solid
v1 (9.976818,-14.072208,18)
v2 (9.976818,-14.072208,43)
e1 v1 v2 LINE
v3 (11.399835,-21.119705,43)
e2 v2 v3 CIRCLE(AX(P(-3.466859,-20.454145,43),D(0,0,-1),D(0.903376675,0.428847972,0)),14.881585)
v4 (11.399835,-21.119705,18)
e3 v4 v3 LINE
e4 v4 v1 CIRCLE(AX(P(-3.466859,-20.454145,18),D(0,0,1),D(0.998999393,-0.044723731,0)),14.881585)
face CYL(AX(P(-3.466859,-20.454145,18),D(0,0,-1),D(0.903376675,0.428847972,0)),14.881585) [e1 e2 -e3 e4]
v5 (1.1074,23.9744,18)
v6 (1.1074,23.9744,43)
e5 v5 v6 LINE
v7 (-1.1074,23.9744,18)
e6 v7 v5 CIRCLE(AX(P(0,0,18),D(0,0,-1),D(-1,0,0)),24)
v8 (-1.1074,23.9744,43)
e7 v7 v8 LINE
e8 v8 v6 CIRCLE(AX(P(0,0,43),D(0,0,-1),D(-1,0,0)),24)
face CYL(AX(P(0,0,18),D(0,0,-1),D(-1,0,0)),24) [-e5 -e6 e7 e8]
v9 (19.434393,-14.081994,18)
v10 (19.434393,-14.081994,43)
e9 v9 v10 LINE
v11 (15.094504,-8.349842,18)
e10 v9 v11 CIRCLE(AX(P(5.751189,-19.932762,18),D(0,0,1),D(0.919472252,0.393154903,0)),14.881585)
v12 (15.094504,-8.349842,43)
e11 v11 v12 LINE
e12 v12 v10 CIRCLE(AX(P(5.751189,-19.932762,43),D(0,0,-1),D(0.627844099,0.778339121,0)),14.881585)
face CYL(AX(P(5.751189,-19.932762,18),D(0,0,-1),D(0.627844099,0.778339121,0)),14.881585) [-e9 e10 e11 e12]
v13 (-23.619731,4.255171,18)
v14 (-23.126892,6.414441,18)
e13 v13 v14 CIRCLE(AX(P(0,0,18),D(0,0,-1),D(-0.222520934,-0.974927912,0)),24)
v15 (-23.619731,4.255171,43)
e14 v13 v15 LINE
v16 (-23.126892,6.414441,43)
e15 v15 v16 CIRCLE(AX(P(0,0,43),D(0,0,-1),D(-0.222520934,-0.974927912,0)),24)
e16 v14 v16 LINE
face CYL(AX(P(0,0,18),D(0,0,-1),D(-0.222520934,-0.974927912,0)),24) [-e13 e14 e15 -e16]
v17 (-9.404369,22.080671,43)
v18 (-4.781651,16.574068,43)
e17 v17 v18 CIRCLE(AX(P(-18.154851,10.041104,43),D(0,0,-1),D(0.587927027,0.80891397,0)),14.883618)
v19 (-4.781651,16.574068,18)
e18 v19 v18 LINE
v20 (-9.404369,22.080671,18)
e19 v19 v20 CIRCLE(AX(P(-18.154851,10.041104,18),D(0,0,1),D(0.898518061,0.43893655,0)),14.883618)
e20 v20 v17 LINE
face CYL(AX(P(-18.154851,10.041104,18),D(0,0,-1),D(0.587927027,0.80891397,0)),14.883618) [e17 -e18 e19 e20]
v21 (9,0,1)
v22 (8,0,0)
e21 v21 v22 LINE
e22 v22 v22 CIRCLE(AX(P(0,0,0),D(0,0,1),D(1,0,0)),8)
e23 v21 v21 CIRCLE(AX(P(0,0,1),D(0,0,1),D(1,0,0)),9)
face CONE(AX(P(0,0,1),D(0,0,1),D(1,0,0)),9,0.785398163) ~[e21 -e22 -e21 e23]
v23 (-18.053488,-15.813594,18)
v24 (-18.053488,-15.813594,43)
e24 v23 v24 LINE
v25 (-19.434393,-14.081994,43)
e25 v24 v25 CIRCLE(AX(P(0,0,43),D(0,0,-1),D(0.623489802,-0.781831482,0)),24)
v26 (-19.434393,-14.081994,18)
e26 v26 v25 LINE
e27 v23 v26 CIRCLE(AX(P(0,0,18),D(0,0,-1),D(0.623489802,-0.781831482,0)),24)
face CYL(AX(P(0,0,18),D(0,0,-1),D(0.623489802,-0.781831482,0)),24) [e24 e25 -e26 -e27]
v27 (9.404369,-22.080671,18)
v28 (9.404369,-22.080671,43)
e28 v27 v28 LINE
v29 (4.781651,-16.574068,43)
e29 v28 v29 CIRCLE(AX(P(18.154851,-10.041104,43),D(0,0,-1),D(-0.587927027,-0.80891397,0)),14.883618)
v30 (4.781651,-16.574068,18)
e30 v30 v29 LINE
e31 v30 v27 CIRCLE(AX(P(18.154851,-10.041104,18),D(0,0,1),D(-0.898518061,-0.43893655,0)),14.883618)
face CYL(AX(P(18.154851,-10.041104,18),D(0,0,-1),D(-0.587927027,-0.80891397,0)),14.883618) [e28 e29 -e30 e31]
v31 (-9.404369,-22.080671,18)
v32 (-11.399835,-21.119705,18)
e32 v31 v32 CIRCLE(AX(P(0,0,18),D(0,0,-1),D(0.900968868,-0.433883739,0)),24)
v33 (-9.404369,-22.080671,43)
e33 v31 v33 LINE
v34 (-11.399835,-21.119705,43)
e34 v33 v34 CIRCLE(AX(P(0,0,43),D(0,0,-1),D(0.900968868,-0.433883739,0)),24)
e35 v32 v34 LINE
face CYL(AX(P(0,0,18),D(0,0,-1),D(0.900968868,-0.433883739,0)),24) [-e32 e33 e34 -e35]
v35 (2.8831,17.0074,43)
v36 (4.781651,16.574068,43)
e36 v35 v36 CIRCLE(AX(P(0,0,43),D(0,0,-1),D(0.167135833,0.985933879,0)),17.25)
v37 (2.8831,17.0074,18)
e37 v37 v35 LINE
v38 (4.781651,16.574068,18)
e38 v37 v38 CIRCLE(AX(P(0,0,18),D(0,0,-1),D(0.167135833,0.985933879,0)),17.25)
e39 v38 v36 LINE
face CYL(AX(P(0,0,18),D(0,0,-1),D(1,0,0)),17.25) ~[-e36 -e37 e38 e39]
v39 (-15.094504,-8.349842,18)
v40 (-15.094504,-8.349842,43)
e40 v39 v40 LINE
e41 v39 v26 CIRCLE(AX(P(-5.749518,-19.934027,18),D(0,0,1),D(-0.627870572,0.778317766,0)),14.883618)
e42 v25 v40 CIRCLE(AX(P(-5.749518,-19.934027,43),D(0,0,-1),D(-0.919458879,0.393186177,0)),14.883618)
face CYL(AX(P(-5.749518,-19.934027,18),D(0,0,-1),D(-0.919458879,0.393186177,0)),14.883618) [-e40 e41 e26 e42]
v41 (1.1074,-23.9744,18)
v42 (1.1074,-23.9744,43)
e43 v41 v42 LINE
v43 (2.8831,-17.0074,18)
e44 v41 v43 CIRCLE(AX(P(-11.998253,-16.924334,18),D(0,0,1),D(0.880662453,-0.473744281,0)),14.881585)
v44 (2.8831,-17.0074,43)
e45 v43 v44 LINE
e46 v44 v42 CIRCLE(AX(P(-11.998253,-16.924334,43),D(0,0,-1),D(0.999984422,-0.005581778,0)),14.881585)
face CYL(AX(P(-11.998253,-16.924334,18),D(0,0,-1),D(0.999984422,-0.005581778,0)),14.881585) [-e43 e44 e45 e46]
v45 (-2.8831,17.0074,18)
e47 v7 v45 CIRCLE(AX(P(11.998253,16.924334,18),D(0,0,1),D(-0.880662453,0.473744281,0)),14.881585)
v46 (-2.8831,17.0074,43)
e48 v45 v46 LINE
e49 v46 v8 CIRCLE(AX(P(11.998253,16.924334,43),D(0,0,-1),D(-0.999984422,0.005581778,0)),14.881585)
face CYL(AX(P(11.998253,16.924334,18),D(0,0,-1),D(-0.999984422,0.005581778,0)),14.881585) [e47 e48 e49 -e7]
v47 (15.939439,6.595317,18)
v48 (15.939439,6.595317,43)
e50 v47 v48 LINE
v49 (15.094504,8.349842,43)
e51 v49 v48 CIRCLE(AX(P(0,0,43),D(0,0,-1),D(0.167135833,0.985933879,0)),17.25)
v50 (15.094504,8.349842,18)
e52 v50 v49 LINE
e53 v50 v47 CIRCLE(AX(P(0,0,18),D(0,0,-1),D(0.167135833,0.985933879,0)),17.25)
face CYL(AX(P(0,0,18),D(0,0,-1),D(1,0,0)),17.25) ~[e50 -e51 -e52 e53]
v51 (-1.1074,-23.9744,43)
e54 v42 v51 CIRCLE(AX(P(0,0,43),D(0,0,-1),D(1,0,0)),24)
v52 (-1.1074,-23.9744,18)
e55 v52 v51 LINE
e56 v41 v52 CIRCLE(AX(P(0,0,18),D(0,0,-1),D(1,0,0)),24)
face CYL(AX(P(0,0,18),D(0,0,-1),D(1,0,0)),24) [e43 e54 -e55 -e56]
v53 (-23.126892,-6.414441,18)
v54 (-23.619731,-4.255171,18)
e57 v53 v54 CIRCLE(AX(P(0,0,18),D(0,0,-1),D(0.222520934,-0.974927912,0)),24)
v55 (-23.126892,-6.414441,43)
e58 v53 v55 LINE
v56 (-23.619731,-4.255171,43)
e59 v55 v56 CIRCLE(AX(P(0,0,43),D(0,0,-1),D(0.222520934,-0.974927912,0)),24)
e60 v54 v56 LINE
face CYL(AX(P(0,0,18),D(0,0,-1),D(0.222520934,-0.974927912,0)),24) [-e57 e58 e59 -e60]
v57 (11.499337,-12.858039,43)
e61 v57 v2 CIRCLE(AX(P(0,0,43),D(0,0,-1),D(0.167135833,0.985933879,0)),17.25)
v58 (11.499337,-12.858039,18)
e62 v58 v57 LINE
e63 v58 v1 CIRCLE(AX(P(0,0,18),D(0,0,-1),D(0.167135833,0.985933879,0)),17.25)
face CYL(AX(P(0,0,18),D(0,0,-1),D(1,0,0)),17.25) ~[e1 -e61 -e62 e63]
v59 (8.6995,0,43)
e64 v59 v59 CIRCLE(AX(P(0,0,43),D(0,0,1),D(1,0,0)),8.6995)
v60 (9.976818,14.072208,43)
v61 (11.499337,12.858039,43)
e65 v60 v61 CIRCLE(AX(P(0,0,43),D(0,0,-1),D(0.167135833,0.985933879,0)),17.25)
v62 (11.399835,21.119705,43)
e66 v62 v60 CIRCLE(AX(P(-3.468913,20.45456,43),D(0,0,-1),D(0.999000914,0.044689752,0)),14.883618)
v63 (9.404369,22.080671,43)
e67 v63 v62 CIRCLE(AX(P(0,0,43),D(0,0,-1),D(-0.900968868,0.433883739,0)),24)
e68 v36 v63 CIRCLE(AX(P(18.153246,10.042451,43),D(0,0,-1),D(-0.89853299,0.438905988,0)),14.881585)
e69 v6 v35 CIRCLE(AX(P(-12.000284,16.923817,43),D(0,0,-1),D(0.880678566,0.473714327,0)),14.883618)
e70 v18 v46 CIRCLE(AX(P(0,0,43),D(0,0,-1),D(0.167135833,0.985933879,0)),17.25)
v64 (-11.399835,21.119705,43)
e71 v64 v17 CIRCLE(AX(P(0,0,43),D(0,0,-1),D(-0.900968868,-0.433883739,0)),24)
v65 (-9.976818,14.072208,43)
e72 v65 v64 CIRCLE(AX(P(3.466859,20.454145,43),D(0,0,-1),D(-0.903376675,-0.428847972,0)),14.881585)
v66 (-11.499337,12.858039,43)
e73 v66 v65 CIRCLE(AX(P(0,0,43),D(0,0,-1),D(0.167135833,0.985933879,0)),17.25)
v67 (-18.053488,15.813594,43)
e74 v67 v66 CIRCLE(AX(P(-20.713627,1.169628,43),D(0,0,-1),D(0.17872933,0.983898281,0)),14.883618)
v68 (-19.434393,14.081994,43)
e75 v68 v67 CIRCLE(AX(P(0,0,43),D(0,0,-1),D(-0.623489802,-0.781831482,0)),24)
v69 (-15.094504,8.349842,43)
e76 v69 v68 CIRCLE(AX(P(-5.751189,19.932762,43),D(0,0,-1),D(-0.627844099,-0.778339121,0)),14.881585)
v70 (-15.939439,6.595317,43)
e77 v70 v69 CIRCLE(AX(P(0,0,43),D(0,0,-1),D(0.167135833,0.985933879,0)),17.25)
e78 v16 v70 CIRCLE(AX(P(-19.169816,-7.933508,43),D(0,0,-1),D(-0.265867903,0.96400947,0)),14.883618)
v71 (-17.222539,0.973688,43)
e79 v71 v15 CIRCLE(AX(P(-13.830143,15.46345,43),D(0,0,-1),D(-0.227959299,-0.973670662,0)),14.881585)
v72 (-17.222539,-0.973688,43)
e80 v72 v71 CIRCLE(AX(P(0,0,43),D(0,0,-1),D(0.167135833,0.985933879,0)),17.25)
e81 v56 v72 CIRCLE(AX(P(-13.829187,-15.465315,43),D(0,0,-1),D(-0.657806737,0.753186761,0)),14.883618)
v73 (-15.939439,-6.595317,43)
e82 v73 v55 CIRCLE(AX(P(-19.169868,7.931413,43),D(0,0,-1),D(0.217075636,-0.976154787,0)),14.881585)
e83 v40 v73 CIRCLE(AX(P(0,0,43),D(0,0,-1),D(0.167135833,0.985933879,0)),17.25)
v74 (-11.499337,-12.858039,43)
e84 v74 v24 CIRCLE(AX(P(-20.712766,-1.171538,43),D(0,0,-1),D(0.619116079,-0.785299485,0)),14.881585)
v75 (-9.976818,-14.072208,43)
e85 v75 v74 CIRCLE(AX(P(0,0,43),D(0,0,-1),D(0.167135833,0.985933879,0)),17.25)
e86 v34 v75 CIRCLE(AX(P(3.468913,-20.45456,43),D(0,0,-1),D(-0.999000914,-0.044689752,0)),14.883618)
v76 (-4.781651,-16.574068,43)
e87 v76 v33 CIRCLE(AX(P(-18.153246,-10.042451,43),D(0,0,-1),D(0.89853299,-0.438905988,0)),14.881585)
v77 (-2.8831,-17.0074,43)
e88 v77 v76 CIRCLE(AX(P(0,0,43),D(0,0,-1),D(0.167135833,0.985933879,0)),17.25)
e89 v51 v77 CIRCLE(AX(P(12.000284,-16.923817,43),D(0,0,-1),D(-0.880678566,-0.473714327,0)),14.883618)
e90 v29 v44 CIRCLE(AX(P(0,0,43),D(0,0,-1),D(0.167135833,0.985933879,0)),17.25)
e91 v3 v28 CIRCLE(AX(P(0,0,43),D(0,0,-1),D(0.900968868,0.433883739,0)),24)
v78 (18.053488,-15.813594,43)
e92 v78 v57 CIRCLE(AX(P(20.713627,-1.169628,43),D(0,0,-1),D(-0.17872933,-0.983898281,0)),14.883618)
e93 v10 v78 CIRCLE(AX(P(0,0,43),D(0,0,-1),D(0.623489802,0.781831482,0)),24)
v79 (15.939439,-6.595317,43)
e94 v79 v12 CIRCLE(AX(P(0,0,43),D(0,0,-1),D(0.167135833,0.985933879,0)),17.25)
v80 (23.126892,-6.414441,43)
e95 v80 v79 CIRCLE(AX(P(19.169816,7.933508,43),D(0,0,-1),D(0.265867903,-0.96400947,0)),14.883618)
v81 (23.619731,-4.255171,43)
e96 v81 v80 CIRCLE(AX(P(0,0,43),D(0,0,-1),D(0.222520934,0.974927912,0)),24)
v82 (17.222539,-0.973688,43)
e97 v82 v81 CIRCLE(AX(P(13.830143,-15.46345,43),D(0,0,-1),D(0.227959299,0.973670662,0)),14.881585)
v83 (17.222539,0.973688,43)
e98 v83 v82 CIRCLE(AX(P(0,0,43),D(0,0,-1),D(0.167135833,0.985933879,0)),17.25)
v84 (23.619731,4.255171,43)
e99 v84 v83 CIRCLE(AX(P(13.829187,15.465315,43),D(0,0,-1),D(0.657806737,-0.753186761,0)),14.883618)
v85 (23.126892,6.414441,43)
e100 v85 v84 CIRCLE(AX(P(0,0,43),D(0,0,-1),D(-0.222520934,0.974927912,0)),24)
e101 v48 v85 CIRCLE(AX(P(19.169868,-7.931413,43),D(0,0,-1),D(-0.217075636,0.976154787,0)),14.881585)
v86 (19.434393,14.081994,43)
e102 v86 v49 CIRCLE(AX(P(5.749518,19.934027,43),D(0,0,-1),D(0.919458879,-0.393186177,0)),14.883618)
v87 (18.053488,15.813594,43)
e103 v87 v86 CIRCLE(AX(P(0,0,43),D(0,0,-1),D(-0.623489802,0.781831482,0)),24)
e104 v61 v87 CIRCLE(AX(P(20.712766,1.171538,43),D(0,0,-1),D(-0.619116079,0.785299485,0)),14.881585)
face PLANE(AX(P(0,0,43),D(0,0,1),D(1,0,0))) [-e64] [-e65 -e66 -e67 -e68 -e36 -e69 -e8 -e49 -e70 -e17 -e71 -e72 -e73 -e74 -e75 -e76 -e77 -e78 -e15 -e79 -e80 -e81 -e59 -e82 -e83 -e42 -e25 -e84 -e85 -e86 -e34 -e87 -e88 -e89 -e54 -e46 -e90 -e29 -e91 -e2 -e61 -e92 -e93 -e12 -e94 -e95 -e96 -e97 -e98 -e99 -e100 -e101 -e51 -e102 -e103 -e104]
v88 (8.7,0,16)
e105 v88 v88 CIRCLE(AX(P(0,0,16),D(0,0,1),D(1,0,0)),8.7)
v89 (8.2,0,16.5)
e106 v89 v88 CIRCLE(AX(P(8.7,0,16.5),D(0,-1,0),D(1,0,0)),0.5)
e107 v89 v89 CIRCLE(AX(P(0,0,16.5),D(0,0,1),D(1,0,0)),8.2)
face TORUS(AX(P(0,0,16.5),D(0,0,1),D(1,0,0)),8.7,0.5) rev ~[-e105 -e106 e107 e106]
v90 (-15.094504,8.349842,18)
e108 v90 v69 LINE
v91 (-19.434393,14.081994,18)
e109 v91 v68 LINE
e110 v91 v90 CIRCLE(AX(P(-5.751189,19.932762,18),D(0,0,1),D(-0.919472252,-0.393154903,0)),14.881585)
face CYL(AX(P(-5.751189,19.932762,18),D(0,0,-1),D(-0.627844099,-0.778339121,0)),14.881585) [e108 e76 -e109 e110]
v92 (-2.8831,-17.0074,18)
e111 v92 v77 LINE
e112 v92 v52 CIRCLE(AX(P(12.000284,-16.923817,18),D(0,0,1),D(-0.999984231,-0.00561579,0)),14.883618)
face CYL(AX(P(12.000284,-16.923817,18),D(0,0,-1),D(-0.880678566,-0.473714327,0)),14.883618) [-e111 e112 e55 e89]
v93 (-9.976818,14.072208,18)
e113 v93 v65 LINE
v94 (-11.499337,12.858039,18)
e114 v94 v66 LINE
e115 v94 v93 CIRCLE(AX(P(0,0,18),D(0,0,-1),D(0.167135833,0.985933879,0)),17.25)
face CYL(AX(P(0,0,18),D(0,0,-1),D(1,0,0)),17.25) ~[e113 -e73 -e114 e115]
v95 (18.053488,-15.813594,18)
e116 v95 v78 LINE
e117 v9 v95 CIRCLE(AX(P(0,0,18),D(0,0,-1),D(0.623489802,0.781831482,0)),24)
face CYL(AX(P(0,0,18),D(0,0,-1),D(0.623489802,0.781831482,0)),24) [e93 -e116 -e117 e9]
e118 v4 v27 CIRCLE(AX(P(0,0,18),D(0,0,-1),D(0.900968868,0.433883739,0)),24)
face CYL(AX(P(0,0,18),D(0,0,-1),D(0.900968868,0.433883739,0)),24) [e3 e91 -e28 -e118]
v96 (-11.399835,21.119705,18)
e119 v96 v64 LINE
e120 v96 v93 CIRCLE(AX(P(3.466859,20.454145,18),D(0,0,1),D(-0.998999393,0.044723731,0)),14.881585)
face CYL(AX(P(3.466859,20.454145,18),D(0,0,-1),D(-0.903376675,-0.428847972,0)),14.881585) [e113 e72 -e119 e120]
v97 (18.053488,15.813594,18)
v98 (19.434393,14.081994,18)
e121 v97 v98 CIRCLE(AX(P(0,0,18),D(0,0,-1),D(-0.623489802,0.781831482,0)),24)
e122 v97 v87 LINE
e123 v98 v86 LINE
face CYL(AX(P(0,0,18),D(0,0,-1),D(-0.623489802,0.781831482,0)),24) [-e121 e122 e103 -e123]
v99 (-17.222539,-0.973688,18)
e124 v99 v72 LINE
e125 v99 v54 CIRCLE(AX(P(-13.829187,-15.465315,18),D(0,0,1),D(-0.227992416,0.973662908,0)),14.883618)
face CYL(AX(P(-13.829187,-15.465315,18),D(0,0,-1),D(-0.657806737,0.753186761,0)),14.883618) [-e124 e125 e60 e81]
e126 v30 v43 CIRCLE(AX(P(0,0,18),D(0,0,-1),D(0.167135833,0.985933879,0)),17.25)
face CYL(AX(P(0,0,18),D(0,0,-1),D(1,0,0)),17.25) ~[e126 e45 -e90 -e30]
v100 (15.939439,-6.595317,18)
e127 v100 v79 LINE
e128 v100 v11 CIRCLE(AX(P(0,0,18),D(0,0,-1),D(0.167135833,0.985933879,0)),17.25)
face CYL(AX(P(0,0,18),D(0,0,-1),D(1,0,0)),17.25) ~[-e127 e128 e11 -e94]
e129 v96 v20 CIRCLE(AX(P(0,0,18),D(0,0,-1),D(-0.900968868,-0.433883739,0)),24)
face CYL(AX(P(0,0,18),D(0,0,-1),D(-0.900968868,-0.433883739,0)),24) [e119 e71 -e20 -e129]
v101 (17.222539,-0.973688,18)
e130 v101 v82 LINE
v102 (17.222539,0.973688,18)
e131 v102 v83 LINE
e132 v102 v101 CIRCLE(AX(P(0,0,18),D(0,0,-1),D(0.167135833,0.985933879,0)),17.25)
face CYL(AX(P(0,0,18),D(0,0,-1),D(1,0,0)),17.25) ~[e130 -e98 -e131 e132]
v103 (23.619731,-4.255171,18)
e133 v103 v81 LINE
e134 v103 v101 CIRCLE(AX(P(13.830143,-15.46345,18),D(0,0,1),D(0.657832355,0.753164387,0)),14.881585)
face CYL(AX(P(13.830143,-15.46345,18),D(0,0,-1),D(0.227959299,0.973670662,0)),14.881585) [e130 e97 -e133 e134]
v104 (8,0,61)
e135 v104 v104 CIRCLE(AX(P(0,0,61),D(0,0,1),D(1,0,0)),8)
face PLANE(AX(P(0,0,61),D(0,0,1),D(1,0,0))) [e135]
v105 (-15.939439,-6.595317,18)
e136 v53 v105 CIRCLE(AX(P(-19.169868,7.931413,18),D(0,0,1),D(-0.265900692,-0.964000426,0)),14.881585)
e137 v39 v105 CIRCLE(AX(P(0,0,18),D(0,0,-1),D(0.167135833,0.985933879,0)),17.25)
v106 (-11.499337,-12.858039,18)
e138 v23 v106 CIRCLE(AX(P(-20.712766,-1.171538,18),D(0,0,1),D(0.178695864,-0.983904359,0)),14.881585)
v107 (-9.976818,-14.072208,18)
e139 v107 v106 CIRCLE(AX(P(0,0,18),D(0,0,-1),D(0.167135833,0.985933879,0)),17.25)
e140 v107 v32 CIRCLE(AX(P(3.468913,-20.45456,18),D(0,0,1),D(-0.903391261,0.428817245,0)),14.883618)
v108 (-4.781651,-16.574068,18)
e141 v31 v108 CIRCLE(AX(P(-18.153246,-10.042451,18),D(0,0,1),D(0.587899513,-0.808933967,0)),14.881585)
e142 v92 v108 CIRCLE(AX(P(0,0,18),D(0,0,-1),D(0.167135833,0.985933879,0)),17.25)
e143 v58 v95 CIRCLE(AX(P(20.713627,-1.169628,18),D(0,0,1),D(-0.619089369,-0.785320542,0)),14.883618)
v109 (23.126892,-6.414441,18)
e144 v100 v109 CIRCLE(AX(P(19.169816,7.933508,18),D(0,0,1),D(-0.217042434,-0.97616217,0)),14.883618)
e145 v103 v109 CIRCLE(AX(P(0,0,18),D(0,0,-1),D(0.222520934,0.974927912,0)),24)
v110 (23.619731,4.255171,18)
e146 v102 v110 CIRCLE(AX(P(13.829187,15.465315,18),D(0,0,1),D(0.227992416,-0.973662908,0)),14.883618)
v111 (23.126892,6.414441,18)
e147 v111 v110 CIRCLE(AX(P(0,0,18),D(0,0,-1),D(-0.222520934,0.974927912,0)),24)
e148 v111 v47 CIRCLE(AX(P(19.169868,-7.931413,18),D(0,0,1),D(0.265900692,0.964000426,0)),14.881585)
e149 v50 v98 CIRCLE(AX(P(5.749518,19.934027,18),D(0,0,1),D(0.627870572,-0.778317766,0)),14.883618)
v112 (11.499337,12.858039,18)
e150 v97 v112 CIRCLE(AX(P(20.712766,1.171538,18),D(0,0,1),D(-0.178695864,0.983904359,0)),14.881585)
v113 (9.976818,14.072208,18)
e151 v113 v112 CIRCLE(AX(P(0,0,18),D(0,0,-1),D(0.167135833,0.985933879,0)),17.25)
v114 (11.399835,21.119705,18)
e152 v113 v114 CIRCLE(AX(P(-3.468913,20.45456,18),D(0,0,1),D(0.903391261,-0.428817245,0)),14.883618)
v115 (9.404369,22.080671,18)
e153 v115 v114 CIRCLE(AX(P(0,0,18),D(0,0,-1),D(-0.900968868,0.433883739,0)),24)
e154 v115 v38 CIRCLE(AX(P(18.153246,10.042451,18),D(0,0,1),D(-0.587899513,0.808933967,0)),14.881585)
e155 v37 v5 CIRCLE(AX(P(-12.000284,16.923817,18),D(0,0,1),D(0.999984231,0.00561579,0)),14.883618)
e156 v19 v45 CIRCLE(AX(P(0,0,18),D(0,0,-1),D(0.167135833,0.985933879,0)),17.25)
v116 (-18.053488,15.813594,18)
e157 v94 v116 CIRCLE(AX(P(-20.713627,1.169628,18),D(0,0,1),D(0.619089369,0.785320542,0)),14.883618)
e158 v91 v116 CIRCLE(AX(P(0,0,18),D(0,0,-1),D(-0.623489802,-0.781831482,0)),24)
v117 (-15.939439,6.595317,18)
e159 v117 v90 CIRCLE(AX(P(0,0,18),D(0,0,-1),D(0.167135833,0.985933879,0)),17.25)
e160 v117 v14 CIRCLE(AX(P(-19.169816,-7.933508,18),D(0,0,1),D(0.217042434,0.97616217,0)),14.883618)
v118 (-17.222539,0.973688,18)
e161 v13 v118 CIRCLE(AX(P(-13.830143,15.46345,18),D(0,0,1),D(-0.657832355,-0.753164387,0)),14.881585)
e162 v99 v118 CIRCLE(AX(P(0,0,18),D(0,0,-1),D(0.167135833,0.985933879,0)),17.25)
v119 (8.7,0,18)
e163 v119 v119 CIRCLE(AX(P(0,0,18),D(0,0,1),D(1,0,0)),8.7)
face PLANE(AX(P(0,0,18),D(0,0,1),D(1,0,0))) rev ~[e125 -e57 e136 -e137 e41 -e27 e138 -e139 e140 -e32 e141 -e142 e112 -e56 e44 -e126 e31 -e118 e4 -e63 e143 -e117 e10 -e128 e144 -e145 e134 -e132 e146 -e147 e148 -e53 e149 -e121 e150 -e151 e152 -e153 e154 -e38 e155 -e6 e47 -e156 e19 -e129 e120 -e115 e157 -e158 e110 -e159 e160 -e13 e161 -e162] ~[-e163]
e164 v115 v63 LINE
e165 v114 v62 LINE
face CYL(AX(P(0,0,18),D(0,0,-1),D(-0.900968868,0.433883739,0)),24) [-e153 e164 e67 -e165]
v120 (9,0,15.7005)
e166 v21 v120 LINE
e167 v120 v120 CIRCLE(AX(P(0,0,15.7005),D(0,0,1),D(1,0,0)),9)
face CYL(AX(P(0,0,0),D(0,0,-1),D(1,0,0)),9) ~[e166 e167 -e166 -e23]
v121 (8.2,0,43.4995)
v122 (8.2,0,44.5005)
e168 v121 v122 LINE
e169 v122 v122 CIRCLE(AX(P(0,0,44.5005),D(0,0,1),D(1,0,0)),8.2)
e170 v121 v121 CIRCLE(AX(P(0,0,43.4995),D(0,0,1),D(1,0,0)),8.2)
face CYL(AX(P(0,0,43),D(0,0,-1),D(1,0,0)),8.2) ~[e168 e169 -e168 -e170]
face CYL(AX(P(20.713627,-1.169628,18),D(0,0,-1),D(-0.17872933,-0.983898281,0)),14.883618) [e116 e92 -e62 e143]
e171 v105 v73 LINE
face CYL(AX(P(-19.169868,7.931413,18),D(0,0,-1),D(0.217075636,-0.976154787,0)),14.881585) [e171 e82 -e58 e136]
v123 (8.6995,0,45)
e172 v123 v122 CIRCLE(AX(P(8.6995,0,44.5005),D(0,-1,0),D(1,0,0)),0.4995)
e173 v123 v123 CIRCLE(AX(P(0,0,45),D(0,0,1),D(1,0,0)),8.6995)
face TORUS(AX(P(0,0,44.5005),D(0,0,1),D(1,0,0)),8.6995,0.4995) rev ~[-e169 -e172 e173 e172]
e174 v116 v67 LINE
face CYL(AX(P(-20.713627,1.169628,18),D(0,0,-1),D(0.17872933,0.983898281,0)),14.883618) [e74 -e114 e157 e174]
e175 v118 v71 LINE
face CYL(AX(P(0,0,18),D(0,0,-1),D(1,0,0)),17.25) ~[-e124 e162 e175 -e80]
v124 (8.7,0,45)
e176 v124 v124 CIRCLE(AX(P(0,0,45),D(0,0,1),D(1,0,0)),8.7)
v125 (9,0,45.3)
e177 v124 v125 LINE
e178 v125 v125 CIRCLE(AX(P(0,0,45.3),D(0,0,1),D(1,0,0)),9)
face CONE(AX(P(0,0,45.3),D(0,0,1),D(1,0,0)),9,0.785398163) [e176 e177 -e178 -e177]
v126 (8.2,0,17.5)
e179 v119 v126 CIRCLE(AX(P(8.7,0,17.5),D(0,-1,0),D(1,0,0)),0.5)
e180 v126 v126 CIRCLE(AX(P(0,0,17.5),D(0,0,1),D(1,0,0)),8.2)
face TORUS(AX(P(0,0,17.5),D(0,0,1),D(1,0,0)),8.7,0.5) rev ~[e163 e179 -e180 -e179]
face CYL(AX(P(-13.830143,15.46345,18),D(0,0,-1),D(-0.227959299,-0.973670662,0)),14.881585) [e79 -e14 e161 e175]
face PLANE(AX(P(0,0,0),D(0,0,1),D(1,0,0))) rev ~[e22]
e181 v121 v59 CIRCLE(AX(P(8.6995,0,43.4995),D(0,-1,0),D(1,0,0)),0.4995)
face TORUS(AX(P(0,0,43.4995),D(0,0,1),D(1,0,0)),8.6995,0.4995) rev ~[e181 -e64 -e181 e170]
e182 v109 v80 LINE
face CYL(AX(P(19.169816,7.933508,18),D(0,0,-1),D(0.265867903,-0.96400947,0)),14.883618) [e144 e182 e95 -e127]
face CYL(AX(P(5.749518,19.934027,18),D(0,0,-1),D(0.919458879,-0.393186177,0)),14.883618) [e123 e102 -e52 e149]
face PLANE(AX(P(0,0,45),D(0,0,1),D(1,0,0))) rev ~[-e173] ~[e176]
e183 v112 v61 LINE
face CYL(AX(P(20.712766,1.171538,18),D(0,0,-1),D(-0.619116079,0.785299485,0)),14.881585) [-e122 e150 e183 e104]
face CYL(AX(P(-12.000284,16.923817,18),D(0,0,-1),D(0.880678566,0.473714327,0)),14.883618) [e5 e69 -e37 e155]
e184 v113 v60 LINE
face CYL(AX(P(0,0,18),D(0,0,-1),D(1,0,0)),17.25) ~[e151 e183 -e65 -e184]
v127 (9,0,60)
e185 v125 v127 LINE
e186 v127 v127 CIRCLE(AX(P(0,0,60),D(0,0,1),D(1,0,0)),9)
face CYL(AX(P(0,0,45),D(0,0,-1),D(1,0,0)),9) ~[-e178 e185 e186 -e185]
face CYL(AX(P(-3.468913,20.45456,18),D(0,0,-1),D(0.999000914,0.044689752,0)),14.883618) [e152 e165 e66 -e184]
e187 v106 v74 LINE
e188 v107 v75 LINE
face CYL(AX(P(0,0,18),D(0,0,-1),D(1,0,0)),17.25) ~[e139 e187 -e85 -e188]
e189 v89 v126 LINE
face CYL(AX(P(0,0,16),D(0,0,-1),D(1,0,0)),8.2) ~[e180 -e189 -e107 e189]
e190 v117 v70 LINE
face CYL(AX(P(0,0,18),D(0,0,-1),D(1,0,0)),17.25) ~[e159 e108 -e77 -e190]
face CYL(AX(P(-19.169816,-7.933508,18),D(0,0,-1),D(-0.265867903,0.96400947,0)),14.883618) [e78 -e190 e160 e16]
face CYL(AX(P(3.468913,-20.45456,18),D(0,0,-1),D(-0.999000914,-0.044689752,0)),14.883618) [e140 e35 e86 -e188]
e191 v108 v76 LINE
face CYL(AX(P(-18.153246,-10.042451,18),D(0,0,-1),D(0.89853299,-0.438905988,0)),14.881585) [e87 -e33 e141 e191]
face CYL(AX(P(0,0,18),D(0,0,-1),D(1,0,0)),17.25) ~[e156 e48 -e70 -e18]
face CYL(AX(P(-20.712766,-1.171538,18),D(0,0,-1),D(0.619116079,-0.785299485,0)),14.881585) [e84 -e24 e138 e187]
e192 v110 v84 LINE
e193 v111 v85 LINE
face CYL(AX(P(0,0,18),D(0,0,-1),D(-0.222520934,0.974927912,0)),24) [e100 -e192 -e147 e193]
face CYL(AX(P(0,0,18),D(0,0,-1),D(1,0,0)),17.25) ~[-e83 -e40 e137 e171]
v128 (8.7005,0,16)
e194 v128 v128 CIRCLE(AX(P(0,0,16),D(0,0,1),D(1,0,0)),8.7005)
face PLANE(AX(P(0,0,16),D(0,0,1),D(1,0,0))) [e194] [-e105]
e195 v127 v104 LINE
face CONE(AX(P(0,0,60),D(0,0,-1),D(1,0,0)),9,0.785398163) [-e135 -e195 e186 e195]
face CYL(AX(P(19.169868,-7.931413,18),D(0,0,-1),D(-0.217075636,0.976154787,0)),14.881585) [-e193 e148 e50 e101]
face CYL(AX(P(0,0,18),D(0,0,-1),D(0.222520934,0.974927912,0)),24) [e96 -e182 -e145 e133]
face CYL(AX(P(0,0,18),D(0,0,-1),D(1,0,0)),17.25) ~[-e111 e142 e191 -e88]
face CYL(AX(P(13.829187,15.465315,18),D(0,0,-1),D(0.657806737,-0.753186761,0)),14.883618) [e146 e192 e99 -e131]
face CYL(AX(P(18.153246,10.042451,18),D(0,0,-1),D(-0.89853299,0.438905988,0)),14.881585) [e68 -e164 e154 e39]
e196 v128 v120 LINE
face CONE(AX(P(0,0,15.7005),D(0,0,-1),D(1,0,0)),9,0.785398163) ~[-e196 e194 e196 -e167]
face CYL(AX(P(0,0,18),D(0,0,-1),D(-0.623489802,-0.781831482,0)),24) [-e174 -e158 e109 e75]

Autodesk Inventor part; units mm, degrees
ref_plane "YZ Plane" through (0, 0, 0) normal (1, 0, 0) x (0, 1, 0)
ref_plane "XY Plane" through (0, 0, 0) normal (0, 0, 1) x (1, 0, 0)
sketch "草图1" plane through (0, 0, 0) normal (0, 0, 1) x (1, 0, 0)
  circle A0 centre (0, 0) radius 9
  dimension "d0" = 18
extrude "拉伸1" add sketch "草图1" along normal blind 16
sketch "草图2" plane through (0, 0, 16) normal (0, 0, 1) x (1, 0, 0)
  circle A0 centre (0, 0) radius 9 projected
  circle A1 centre (0, 0) radius 8.2
  dimension "d3" = 16.4
extrude "拉伸2" add sketch "草图2" along normal blind 2 contours A1
sketch "草图3" plane through (0, 0, 18) normal (0, 0, 1) x (1, 0, 0)
  circle A0 centre (0, 0) radius 8.2 projected
  circle A1 centre (0, 0) radius 17.25
  dimension "d6" = 34.5
extrude "拉伸3" add sketch "草图3" along normal blind 25 contours A0 | A1
sketch "草图4" plane through (0, 0, 43) normal (0, 0, 1) x (1, 0, 0)
  circle A0 centre (0, 0) radius 8.2 projected
  circle A1 centre (0, 0) radius 8.2
extrude "拉伸4" add sketch "草图4" along normal blind 2
sketch "草图5" plane through (0, 0, 45) normal (0, 0, 1) x (1, 0, 0)
  circle A0 centre (0, 0) radius 8.2 projected
  circle A1 centre (0, 0) radius 9
  dimension "d11" = 18
extrude "拉伸5" add sketch "草图5" along normal blind 16 contours A0 | A1
fillet "圆角2" radius 0.5 2 edges at (-8.2, 0, 16) (-8.2, 0, 18)
chamfer "倒角2" distance 0.3 angle 45 1 edges at (-9, 0, 16)
chamfer "倒角3" distance 0.3 angle 45 1 edges at (-9, 0, 45)
fillet "圆角4" radius 0.5 2 edges at (-8.2, 0, 45) (-8.2, 0, 43)
chamfer "倒角5" distance 1 angle 45 1 edges at (-9, 0, 0)
ref_plane "工作平面1" through (0, -3, 0) normal (0, 1, 0) x (-1, 0, 0)
sketch "草图13" plane through (0, 0, 18) normal (0, 0, -1) x (-1, 0, 0)
  circle A0 centre (0, 0) radius 17.25 projected
  circle A1 centre (0, 0) radius 8.7 projected
  circle A2 centre (0, 0) radius 21
  circle A3 centre (0, 0) radius 24
  circle A4 centre (0, 0) radius 17.25 projected
  arc A5 (-1.1074, 23.9744) -> (-2.8831, 17.0074) centre (11.9993, 16.9242) ccw
  line L0 (0, 0) -> (0, 27.2026) construction
  arc A6 (2.8831, 17.0074) -> (1.1074, 23.9744) centre (-11.9993, 16.9242) ccw
  arc A7 (1.1074, 23.9744) -> (-1.1074, 23.9744) centre (0, 0) ccw
  point P0 (-2.3513, 20.868)
  point P1 (2.3513, 20.868)
  point P2 (2.8831, 17.0074)
  point P3 (-2.8831, 17.0074)
  dimension "d68" = 42
  dimension "d69" = 48
  dimension "d70" = 12.857
extrude "拉伸11" add sketch "草图13" against normal up to surface (25 mm away) contours A0 A5 A2 A6 | A2 A5 A3 A6 picked at (-0.2617, 18.4771) picked at (0.1231, 21.9893)
pattern_circular "环形阵列1" count 14 over 360 about axis through (0, 0, 18) along (0, 0, 1) of "拉伸11"
chamfer "倒角6" distance 1 angle 45 1 edges at (-9, 0, 61)
properties part number "主动齿轮轴" material "钢"
